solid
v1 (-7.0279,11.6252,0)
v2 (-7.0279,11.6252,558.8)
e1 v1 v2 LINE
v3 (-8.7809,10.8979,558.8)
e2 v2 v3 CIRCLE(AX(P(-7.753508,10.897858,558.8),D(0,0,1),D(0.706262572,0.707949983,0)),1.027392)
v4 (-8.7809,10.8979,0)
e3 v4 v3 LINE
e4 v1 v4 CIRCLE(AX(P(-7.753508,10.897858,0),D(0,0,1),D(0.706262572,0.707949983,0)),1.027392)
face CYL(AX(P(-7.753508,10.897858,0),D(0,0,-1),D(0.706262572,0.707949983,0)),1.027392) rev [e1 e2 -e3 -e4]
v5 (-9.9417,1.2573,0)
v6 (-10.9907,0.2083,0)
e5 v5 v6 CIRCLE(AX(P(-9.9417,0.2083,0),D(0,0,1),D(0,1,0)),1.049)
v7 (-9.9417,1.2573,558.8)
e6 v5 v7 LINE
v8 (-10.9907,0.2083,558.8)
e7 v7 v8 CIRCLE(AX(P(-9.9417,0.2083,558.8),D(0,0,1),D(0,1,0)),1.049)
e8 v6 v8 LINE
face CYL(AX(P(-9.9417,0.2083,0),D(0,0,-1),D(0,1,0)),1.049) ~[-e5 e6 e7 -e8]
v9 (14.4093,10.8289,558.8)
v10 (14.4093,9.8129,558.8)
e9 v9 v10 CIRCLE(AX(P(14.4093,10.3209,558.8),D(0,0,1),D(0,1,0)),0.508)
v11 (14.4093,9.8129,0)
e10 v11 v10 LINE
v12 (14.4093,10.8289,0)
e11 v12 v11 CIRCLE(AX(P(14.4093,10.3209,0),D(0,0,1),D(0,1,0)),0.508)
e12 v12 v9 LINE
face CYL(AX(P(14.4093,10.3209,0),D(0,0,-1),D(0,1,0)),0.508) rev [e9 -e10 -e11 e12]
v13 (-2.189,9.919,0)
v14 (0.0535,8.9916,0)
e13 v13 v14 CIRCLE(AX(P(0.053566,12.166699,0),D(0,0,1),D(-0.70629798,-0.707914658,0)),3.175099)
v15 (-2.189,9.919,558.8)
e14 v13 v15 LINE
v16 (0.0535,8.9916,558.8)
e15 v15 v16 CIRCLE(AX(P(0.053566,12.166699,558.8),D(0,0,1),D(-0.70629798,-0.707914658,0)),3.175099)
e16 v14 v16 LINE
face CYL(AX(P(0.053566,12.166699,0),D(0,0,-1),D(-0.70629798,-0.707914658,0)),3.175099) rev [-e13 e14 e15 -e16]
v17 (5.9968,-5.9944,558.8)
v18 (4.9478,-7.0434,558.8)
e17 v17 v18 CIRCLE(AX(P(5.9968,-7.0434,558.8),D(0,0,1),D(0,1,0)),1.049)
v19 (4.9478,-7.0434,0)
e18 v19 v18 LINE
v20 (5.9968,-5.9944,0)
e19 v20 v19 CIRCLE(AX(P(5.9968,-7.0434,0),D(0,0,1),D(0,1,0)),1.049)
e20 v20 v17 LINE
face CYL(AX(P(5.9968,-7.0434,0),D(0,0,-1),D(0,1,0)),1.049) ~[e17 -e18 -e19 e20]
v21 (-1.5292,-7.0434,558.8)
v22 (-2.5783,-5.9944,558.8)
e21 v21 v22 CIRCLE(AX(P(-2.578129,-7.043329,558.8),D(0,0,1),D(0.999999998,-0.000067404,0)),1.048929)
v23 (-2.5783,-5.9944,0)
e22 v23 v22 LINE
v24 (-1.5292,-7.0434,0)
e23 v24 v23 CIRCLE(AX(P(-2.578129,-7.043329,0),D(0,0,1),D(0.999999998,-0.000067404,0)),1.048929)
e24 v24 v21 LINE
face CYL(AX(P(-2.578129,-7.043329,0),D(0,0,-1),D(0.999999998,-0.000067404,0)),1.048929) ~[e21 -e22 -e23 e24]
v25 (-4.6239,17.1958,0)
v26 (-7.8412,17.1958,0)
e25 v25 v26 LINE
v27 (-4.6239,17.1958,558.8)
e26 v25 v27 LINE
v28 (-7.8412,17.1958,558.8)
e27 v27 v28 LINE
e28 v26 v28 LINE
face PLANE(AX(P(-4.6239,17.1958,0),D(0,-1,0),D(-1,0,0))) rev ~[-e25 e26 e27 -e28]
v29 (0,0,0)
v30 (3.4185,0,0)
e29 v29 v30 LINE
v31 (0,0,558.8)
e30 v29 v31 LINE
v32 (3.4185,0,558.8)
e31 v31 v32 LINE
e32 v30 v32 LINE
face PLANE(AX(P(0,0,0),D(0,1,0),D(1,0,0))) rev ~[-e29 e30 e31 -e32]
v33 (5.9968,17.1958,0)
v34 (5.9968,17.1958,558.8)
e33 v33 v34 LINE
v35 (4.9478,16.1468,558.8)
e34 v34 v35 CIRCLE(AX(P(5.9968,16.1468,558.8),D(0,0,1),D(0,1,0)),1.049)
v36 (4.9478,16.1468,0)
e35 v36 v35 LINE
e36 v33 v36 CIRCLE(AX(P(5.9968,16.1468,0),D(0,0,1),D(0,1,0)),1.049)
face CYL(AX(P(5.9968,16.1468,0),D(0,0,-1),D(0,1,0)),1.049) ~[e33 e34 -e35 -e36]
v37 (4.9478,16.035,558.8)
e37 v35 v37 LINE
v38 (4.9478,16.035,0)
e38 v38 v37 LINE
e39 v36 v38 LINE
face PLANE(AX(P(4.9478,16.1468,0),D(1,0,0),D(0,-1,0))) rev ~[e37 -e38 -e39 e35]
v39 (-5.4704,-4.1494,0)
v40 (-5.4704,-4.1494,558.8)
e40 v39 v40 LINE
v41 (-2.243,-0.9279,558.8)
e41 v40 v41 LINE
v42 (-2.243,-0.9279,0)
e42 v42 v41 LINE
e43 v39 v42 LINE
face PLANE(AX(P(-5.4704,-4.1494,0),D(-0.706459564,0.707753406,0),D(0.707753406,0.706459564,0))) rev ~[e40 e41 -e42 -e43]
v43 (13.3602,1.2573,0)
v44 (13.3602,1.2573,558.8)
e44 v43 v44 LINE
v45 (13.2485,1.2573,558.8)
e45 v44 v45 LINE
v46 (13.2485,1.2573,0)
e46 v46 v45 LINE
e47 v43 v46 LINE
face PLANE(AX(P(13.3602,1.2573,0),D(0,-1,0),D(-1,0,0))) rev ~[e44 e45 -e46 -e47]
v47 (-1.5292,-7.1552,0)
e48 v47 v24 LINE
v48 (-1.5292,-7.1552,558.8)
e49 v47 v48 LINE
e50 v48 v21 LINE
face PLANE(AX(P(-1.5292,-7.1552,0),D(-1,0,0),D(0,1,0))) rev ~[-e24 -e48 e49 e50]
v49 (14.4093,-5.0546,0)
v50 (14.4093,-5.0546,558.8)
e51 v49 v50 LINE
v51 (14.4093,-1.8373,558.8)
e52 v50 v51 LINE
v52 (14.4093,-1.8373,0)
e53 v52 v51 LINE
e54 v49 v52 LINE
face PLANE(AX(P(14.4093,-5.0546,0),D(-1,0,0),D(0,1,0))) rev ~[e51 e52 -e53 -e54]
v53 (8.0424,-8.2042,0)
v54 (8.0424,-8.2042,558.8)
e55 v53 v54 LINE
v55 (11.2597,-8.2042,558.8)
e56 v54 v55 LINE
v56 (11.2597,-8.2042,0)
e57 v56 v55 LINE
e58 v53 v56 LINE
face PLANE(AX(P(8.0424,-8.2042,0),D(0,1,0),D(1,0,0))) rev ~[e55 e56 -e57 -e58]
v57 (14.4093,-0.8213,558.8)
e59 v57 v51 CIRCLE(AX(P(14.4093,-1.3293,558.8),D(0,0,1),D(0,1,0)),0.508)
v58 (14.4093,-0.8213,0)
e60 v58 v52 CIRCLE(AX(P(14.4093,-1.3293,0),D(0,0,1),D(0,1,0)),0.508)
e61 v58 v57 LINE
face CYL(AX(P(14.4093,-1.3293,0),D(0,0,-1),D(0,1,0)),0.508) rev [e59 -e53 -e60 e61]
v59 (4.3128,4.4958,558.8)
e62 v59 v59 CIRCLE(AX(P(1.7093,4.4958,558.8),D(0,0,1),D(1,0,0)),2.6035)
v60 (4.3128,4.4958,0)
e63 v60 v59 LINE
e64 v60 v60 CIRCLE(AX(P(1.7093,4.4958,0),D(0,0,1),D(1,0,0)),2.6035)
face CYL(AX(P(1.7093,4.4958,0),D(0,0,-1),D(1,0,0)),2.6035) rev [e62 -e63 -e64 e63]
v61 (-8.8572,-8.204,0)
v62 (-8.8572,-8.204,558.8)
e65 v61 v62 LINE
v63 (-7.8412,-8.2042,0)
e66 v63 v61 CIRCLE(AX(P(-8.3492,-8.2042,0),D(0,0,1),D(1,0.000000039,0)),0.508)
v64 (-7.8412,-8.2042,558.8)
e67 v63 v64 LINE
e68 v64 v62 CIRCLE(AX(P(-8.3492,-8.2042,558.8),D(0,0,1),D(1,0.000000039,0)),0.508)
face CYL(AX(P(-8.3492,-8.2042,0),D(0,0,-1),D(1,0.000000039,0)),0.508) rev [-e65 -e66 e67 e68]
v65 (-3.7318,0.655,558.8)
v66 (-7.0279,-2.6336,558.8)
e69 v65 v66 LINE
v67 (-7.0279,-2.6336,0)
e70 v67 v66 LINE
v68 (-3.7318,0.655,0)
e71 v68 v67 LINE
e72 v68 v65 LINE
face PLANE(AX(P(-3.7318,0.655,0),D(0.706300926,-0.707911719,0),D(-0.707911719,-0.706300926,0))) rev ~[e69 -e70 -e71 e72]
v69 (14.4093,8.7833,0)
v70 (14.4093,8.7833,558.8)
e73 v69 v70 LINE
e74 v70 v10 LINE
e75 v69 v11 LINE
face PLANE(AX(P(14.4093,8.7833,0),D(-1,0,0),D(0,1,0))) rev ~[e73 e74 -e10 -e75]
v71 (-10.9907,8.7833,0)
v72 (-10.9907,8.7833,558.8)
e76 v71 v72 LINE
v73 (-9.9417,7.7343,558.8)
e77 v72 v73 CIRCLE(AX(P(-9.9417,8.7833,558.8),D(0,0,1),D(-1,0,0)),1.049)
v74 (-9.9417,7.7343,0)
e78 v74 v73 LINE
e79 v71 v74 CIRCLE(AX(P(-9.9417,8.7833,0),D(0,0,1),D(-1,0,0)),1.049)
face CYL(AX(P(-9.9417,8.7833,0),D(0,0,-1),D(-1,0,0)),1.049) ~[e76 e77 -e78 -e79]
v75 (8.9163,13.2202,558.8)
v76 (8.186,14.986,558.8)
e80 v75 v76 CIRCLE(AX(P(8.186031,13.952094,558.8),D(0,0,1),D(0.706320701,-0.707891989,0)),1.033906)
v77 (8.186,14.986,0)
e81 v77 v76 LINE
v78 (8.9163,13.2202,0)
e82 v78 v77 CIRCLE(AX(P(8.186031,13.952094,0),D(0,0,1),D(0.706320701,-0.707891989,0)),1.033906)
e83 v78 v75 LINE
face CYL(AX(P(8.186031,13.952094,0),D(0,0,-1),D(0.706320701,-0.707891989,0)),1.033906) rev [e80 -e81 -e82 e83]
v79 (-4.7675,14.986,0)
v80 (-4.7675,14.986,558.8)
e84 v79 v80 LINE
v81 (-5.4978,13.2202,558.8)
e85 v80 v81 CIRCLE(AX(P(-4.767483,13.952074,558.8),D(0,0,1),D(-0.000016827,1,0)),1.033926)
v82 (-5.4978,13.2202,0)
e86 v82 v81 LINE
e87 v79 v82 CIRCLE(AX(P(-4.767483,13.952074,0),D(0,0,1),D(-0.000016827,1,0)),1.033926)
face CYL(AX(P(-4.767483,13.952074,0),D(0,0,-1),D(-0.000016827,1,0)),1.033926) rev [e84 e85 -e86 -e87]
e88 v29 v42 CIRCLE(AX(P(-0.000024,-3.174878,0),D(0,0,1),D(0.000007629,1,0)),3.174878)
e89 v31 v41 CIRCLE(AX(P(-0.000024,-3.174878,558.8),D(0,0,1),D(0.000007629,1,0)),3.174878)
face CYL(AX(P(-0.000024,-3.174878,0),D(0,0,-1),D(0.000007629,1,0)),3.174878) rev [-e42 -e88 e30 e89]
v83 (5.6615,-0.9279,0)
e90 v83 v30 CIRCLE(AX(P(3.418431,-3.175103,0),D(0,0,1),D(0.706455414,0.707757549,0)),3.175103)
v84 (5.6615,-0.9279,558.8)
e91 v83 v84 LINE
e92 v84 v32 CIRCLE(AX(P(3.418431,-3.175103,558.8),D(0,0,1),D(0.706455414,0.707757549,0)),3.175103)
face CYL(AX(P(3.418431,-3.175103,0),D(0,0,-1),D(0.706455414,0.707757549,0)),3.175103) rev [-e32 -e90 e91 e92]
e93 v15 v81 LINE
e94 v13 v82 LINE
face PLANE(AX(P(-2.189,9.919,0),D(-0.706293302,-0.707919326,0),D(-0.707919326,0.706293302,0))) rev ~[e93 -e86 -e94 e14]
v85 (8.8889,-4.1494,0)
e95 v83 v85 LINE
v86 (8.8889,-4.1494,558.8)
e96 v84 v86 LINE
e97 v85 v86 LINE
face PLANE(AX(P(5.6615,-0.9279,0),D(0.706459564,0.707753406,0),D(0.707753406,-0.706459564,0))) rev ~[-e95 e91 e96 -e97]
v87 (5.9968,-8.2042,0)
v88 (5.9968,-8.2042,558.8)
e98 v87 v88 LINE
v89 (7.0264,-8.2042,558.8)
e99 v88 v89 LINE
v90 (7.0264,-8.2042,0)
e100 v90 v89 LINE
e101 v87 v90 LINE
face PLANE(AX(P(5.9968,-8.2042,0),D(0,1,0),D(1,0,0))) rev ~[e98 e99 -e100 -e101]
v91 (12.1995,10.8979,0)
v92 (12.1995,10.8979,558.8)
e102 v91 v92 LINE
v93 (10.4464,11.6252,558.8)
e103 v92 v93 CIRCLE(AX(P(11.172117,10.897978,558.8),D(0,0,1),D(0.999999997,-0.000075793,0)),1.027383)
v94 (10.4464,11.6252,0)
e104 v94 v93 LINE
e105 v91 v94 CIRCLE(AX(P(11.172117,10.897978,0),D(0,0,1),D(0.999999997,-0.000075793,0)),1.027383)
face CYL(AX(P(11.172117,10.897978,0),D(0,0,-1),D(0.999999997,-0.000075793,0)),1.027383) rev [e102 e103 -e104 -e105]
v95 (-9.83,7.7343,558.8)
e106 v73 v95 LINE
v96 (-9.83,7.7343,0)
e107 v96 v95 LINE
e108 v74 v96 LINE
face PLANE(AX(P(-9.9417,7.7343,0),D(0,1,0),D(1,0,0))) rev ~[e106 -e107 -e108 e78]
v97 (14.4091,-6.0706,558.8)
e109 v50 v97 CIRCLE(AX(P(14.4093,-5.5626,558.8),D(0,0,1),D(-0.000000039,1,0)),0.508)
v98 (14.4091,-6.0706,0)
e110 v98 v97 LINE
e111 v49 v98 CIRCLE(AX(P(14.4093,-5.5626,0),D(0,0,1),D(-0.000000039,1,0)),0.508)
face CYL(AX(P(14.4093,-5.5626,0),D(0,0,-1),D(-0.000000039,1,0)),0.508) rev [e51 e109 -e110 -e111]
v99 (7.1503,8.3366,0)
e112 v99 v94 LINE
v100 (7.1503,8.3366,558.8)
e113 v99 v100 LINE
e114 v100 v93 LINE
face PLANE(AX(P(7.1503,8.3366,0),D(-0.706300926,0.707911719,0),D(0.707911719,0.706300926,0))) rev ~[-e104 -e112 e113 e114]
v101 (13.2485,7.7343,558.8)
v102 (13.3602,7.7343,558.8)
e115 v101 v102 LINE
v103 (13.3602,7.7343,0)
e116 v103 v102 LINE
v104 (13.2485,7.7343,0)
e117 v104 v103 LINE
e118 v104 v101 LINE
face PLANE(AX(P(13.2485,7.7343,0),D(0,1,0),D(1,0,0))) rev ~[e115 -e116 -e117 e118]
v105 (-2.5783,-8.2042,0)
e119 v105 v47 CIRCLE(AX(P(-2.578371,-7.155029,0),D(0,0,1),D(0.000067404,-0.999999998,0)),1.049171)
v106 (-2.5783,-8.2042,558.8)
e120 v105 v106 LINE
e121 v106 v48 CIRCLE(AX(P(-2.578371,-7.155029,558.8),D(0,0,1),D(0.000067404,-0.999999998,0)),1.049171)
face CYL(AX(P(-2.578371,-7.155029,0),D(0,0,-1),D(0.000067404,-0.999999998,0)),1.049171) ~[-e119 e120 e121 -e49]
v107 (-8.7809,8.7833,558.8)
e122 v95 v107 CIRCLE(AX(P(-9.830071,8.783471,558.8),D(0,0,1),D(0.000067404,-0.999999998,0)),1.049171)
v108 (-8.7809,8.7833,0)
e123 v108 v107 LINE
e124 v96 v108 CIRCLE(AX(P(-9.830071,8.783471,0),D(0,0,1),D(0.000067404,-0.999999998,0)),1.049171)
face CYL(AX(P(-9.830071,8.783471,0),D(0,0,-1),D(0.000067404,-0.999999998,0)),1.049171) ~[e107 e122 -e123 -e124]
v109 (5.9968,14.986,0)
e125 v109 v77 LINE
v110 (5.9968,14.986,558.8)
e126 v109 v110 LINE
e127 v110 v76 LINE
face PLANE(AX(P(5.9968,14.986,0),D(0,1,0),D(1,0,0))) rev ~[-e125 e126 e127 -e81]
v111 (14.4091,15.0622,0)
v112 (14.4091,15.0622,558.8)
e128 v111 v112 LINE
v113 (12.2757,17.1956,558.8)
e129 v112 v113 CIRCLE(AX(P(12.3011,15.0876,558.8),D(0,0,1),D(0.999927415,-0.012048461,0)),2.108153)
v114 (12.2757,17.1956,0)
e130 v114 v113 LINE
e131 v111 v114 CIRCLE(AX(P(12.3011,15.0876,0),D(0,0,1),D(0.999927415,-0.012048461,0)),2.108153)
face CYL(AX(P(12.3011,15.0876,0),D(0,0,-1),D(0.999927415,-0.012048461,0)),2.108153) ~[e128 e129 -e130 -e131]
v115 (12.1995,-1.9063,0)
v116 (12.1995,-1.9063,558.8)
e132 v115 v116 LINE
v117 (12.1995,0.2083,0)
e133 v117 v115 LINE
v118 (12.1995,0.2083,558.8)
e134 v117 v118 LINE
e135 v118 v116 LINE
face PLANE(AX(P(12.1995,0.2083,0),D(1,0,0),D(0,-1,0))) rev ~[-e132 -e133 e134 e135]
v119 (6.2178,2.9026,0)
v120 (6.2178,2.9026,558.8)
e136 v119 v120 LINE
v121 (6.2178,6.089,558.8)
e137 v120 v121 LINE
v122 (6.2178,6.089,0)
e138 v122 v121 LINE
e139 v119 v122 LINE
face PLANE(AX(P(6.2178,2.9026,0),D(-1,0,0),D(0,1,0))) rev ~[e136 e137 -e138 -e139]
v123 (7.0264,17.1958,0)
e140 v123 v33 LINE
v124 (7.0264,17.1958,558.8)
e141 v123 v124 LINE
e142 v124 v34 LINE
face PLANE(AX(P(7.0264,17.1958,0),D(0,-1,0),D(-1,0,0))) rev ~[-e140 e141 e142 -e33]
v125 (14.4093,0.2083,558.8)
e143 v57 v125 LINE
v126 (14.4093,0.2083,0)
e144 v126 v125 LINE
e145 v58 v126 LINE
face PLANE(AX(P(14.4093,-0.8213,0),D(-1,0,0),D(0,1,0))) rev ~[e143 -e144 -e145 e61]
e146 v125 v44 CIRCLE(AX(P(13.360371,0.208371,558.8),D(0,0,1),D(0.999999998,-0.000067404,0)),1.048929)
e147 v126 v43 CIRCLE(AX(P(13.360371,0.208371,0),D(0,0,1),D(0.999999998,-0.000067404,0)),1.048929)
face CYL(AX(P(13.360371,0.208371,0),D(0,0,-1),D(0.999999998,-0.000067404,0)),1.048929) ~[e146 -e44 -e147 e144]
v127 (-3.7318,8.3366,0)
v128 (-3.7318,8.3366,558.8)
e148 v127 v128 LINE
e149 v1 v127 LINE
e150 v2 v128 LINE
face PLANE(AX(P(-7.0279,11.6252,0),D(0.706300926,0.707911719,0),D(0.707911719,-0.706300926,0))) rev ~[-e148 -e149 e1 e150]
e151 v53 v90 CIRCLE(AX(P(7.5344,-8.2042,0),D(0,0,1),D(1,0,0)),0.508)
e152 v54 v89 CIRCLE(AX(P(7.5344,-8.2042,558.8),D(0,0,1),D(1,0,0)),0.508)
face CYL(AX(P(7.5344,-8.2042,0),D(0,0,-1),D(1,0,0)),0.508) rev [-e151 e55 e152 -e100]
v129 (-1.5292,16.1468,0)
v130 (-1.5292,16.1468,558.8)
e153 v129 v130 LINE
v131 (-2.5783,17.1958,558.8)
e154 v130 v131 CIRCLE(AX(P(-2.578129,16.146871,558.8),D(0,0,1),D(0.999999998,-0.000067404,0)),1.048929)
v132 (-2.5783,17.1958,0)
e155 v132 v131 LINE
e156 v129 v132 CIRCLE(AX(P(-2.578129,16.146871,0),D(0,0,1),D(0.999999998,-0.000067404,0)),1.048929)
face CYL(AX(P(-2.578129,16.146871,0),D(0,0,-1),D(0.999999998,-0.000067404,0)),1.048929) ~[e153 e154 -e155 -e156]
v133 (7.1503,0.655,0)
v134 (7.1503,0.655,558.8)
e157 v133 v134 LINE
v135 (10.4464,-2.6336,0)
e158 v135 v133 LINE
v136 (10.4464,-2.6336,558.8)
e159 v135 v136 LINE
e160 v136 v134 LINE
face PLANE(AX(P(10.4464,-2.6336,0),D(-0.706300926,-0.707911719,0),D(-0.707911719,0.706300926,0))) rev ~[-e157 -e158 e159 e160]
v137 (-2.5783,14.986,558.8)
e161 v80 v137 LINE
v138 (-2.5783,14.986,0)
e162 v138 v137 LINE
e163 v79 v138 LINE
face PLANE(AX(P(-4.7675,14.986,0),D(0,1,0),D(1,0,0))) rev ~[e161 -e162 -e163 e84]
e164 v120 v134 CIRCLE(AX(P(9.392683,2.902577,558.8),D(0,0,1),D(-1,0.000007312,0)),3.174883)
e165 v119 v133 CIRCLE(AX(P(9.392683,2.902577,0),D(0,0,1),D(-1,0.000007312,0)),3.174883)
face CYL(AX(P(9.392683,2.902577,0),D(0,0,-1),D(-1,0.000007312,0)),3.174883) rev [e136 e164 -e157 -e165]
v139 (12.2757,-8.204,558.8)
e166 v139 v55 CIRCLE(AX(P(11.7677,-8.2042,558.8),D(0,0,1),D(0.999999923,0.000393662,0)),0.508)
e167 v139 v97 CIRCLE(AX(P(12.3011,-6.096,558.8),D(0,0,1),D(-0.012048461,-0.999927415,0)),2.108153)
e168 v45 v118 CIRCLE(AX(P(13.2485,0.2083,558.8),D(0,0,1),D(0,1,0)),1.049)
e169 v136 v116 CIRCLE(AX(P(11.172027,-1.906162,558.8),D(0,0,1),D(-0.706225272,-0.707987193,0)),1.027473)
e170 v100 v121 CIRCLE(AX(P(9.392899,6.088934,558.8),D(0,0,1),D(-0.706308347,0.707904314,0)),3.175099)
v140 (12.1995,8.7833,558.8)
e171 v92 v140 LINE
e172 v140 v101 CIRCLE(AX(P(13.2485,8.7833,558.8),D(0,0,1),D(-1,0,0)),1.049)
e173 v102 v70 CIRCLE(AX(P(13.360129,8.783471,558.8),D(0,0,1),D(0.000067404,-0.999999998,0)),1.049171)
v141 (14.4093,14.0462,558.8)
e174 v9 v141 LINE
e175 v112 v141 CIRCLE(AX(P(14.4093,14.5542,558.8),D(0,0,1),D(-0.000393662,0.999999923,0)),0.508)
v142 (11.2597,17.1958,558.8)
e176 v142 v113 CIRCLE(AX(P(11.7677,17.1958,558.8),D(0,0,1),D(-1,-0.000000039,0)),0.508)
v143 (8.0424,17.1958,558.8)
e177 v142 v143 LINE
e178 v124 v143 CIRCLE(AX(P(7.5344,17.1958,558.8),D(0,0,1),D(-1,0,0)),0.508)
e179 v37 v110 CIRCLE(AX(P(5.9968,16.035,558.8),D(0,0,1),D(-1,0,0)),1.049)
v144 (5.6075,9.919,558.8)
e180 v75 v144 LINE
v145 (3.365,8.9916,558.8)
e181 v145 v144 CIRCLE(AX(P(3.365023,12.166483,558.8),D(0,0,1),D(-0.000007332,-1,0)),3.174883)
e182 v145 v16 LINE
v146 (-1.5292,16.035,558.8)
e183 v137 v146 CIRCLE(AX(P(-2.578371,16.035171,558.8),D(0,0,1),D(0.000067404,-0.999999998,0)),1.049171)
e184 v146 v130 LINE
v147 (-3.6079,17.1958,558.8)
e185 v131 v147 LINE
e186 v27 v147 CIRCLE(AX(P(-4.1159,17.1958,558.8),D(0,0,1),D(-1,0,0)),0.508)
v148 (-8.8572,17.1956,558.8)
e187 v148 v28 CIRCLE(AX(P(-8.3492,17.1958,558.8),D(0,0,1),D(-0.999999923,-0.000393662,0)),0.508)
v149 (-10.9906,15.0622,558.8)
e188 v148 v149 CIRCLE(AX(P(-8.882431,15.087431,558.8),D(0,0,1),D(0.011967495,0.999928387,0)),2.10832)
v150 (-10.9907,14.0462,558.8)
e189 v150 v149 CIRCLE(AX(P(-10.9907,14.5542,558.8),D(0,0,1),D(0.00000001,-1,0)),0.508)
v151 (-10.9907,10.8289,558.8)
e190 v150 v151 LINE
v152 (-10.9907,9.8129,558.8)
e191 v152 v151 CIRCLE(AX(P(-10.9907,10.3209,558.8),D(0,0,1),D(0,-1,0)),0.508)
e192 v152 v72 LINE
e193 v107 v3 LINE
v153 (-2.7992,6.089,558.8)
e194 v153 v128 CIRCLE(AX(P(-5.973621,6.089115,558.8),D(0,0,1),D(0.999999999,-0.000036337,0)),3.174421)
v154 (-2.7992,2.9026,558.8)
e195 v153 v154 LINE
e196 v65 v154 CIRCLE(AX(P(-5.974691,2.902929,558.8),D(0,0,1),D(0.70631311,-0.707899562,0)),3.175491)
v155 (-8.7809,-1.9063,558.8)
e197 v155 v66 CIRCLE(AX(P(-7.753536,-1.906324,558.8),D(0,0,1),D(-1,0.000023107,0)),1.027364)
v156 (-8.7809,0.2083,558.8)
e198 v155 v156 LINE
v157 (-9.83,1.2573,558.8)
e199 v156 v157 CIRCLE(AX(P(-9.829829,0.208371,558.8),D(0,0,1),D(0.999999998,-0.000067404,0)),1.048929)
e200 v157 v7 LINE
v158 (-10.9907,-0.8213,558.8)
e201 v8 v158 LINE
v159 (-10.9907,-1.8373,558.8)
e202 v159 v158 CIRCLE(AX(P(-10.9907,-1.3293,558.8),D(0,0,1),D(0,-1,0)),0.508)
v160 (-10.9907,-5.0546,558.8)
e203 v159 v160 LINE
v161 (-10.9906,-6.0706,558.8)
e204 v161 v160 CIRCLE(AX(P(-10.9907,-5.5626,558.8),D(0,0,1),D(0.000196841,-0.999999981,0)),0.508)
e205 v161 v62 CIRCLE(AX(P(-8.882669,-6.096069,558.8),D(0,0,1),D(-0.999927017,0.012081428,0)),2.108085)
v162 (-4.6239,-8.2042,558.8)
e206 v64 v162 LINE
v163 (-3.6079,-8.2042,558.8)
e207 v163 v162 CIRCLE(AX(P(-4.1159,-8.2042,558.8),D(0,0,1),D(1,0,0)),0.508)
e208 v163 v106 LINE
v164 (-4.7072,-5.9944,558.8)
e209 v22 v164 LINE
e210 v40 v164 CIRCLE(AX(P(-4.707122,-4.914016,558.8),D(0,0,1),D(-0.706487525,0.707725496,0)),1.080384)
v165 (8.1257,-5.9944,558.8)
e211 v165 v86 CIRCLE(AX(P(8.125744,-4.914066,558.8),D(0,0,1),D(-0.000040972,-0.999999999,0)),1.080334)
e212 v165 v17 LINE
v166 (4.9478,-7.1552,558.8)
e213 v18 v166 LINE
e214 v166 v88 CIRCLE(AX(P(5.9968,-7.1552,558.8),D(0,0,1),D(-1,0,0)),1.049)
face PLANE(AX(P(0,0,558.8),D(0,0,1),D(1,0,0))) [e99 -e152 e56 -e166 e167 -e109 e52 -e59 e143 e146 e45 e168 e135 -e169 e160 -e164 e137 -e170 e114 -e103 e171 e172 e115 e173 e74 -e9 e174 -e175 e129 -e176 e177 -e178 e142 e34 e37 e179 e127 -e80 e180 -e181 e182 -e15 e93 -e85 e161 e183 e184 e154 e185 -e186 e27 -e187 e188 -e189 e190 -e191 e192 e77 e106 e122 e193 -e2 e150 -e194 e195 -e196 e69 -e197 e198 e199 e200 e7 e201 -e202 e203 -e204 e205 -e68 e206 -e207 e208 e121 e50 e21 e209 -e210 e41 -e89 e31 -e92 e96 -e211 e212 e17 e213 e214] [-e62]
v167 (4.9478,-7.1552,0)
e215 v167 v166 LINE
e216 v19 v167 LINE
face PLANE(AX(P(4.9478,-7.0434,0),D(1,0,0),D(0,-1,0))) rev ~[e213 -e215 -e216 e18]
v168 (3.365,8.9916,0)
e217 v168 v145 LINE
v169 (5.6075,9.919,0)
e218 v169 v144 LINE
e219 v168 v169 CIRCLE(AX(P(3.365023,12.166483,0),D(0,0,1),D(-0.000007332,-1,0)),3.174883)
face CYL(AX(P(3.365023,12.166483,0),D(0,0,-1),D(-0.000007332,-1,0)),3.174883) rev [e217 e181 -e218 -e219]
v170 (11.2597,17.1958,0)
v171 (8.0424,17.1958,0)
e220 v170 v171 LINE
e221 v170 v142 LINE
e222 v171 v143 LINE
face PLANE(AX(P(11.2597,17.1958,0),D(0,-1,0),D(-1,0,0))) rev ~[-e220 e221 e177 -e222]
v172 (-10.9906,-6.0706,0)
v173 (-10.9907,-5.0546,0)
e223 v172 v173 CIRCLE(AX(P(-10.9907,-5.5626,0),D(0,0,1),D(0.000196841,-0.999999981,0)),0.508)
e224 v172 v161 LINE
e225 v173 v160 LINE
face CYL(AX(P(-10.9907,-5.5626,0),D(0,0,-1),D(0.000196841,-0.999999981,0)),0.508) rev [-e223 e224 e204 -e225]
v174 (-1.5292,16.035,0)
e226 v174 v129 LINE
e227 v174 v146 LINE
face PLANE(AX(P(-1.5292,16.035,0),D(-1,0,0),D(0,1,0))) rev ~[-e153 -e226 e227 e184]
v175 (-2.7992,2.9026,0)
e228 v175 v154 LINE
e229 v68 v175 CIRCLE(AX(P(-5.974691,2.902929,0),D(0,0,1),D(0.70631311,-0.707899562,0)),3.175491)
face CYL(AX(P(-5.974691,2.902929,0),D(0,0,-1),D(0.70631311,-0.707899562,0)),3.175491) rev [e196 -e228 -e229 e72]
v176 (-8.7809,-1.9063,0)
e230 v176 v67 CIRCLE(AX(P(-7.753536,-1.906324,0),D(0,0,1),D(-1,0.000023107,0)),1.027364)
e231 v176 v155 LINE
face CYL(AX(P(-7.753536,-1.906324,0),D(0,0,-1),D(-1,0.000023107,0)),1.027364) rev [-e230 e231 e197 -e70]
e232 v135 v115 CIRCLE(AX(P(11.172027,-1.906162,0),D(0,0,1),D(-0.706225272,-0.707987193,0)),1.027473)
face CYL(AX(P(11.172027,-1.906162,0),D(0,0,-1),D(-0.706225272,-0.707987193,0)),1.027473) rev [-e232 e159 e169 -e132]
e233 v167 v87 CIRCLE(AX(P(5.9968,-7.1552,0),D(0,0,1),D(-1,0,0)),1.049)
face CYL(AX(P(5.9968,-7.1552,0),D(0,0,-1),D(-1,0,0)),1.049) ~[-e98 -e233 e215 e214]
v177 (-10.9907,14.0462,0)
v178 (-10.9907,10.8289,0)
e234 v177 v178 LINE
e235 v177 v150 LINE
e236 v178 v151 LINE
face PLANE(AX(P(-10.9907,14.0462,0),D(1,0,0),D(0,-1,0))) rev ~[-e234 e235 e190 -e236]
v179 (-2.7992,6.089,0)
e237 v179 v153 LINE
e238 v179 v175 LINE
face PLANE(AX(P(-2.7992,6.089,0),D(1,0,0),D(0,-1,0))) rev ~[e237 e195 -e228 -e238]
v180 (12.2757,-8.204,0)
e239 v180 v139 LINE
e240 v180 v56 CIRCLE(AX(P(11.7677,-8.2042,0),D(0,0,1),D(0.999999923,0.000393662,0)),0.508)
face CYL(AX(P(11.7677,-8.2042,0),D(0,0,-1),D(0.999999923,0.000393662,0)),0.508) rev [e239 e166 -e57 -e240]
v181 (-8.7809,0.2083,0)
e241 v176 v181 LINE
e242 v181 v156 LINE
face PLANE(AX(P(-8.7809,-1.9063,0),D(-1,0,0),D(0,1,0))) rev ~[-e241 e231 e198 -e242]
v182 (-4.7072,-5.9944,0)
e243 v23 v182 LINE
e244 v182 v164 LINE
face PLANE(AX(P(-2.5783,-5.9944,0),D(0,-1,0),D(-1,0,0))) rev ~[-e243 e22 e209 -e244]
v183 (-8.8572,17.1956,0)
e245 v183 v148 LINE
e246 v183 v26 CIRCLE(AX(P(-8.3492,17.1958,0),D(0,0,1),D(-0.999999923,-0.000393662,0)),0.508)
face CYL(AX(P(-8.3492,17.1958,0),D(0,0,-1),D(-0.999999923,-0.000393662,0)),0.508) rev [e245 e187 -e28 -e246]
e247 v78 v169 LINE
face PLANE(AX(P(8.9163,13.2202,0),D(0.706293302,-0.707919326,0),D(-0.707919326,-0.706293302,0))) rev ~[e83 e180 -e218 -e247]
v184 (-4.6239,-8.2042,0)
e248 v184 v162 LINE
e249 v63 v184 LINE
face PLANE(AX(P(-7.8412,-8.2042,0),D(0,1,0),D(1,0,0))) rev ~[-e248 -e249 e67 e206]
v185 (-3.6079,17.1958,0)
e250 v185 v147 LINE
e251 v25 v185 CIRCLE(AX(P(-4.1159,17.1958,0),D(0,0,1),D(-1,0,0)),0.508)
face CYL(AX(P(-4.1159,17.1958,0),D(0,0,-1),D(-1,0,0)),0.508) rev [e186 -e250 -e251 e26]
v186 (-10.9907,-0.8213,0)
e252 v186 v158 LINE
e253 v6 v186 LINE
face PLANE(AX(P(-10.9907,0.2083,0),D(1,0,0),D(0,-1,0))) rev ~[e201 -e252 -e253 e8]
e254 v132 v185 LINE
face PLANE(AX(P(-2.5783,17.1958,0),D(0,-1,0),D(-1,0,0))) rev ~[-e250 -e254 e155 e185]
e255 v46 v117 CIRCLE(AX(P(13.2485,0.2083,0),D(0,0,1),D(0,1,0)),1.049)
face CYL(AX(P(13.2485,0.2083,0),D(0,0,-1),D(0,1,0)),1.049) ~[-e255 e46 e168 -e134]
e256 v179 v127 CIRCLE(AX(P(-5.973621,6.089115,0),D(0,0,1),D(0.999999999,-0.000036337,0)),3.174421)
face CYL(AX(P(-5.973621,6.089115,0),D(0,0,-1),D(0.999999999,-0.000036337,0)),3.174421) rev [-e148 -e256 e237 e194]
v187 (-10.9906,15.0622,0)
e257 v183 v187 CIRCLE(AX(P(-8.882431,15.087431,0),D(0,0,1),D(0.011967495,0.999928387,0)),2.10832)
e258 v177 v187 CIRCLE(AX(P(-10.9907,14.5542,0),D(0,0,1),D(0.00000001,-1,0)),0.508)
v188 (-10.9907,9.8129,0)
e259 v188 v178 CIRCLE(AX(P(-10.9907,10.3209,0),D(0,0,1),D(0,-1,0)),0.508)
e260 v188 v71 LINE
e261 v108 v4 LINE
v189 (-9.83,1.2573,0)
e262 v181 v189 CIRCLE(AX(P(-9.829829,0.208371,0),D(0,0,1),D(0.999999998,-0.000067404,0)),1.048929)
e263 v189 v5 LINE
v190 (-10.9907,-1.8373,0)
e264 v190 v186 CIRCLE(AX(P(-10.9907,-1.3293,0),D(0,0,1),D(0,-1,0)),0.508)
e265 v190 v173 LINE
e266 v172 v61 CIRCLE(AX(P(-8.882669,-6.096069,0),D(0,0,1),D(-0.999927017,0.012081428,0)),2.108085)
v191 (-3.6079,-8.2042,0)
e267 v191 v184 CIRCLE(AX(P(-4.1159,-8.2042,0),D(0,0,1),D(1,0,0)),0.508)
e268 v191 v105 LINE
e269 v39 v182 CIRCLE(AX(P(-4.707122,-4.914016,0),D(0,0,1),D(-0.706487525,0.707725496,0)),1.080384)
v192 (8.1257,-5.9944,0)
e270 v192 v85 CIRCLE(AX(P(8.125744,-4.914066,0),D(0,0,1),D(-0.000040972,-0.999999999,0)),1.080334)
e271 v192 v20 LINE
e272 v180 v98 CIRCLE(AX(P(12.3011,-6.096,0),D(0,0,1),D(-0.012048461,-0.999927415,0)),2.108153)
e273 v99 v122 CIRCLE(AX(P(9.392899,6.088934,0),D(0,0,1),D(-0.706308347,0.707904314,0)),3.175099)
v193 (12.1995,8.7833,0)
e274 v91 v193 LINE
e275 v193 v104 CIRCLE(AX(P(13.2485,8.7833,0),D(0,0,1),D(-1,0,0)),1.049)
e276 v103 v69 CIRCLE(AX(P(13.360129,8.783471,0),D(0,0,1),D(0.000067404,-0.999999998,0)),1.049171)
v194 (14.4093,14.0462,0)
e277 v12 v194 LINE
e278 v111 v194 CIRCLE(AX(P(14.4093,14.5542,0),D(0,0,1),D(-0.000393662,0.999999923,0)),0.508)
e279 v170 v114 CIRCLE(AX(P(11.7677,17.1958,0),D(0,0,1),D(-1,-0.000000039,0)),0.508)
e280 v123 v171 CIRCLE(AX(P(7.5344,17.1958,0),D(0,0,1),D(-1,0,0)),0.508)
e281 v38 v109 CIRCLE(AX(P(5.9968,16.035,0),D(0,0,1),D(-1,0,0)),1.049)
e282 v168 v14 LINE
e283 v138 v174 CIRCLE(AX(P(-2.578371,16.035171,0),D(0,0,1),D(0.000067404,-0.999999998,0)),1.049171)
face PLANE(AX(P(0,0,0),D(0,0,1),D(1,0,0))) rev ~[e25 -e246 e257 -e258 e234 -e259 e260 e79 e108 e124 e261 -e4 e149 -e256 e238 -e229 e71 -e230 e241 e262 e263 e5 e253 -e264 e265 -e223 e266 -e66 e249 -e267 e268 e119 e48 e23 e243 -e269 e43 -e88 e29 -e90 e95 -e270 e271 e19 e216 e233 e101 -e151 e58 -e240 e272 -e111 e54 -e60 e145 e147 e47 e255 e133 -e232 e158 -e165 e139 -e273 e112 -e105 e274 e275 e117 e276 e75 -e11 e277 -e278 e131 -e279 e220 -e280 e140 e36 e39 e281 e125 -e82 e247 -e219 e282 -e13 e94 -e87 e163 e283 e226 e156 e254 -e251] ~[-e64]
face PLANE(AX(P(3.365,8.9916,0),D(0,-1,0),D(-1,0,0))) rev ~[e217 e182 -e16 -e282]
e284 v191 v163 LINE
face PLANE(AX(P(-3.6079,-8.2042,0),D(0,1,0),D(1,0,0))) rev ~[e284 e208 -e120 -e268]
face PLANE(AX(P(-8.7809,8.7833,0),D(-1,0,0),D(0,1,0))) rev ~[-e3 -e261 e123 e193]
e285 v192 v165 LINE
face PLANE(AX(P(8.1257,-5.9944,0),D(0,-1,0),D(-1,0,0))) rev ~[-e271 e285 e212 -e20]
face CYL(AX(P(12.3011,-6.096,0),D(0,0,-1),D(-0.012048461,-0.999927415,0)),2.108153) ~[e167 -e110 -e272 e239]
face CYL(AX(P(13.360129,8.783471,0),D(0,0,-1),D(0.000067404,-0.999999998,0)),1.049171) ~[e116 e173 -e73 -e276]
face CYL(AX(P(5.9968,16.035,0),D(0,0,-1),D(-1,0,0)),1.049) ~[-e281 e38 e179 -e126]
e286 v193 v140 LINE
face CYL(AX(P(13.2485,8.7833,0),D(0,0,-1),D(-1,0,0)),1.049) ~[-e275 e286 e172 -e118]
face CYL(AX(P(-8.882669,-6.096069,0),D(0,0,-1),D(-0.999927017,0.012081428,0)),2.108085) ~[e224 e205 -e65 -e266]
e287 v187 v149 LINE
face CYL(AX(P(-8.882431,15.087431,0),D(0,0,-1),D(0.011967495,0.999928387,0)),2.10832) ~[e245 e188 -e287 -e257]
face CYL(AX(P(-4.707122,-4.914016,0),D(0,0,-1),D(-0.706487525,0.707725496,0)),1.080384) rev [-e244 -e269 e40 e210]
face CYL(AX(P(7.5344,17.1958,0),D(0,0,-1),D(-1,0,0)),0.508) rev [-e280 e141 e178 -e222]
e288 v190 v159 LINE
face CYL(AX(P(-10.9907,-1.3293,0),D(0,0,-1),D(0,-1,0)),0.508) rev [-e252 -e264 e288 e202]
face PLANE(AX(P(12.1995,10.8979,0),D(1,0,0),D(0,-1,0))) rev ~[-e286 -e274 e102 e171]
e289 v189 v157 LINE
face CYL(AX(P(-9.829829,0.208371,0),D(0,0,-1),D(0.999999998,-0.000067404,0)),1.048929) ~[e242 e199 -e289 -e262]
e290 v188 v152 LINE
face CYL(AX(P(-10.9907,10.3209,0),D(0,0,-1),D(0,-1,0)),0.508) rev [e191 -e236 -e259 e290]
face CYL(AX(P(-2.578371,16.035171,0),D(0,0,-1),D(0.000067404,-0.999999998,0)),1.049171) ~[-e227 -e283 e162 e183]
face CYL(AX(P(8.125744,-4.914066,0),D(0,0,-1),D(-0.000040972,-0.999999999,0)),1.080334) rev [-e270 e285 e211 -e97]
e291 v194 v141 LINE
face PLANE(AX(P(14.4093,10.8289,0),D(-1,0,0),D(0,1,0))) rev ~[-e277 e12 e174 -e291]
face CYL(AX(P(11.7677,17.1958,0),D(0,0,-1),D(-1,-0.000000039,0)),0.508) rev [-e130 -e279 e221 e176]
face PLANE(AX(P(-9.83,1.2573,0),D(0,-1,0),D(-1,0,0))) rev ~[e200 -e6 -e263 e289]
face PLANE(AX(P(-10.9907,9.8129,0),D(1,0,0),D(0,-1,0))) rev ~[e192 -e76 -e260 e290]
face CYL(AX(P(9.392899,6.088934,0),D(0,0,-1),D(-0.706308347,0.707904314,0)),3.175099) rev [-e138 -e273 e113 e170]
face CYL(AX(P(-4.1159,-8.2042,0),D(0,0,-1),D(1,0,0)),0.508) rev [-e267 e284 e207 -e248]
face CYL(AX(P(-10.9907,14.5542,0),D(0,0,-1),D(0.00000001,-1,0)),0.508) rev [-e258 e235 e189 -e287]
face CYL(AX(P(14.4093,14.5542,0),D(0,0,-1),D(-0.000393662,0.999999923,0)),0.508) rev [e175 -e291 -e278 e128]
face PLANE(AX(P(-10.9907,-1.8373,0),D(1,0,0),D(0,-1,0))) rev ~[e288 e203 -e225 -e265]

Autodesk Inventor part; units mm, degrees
ref_plane "YZ Plane" through (0, 0, 0) normal (1, 0, 0) x (0, 1, 0)
ref_plane "XZ Plane" through (0, 0, 0) normal (0, 1, 0) x (-1, 0, 0)
ref_plane "XY Plane" through (0, 0, 0) normal (0, 0, 1) x (1, 0, 0)
sketch "Sketch1" plane through (0, 0, 0) normal (0, 0, 1) x (1, 0, 0)
  arc A0 (-5.4704, -4.1494) -> (-4.7072, -5.9944) centre (-4.7072, -4.914) ccw
  line L0 (-5.4704, -4.1494) -> (-2.243, -0.9279)
  arc A1 (0, 0) -> (-2.243, -0.9279) centre (0, -3.175) ccw
  line L1 (0, 0) -> (3.4185, 0)
  arc A2 (5.6615, -0.9279) -> (3.4185, 0) centre (3.4185, -3.175) ccw
  line L2 (5.6615, -0.9279) -> (8.8889, -4.1494)
  arc A3 (8.1257, -5.9944) -> (8.8889, -4.1494) centre (8.1257, -4.914) ccw
  line L3 (8.1257, -5.9944) -> (5.9968, -5.9944)
  arc A4 (5.9968, -5.9944) -> (4.9478, -7.0434) centre (5.9968, -7.0434) ccw
  line L4 (4.9478, -7.0434) -> (4.9478, -7.1552)
  arc A5 (4.9478, -7.1552) -> (5.9968, -8.2042) centre (5.9968, -7.1552) ccw
  line L5 (5.9968, -8.2042) -> (7.0264, -8.2042)
  arc A6 (8.0424, -8.2042) -> (7.0264, -8.2042) centre (7.5344, -8.2042) ccw
  line L6 (8.0424, -8.2042) -> (11.2597, -8.2042)
  arc A7 (12.2757, -8.204) -> (11.2597, -8.2042) centre (11.7677, -8.2042) ccw
  arc A8 (12.2757, -8.204) -> (14.4091, -6.0706) centre (12.3011, -6.096) ccw
  arc A9 (14.4093, -5.0546) -> (14.4091, -6.0706) centre (14.4093, -5.5626) ccw
  line L7 (14.4093, -5.0546) -> (14.4093, -1.8373)
  arc A10 (14.4093, -0.8213) -> (14.4093, -1.8373) centre (14.4093, -1.3293) ccw
  line L8 (14.4093, -0.8213) -> (14.4093, 0.2083)
  arc A11 (14.4093, 0.2083) -> (13.3602, 1.2573) centre (13.3602, 0.2083) ccw
  line L9 (13.3602, 1.2573) -> (13.2485, 1.2573)
  arc A12 (13.2485, 1.2573) -> (12.1995, 0.2083) centre (13.2485, 0.2083) ccw
  line L10 (12.1995, 0.2083) -> (12.1995, -1.9063)
  arc A13 (10.4464, -2.6336) -> (12.1995, -1.9063) centre (11.172, -1.9063) ccw
  line L11 (10.4464, -2.6336) -> (7.1503, 0.655)
  arc A14 (6.2178, 2.9026) -> (7.1503, 0.655) centre (9.3928, 2.9026) ccw
  line L12 (6.2178, 2.9026) -> (6.2178, 6.089)
  arc A15 (7.1503, 8.3366) -> (6.2178, 6.089) centre (9.3928, 6.089) ccw
  line L13 (7.1503, 8.3366) -> (10.4464, 11.6252)
  arc A16 (12.1995, 10.8979) -> (10.4464, 11.6252) centre (11.172, 10.8979) ccw
  line L14 (12.1995, 10.8979) -> (12.1995, 8.7833)
  arc A17 (12.1995, 8.7833) -> (13.2485, 7.7343) centre (13.2485, 8.7833) ccw
  line L15 (13.2485, 7.7343) -> (13.3602, 7.7343)
  arc A18 (13.3602, 7.7343) -> (14.4093, 8.7833) centre (13.3602, 8.7833) ccw
  line L16 (14.4093, 8.7833) -> (14.4093, 9.8129)
  arc A19 (14.4093, 10.8289) -> (14.4093, 9.8129) centre (14.4093, 10.3209) ccw
  line L17 (14.4093, 10.8289) -> (14.4093, 14.0462)
  arc A20 (14.4091, 15.0622) -> (14.4093, 14.0462) centre (14.4093, 14.5542) ccw
  arc A21 (14.4091, 15.0622) -> (12.2757, 17.1956) centre (12.3011, 15.0876) ccw
  arc A22 (11.2597, 17.1958) -> (12.2757, 17.1956) centre (11.7677, 17.1958) ccw
  line L18 (11.2597, 17.1958) -> (8.0424, 17.1958)
  arc A23 (7.0264, 17.1958) -> (8.0424, 17.1958) centre (7.5344, 17.1958) ccw
  line L19 (7.0264, 17.1958) -> (5.9968, 17.1958)
  arc A24 (5.9968, 17.1958) -> (4.9478, 16.1468) centre (5.9968, 16.1468) ccw
  line L20 (4.9478, 16.1468) -> (4.9478, 16.035)
  arc A25 (4.9478, 16.035) -> (5.9968, 14.986) centre (5.9968, 16.035) ccw
  line L21 (5.9968, 14.986) -> (8.186, 14.986)
  arc A26 (8.9163, 13.2202) -> (8.186, 14.986) centre (8.186, 13.9521) ccw
  line L22 (8.9163, 13.2202) -> (5.6075, 9.919)
  arc A27 (3.365, 8.9916) -> (5.6075, 9.919) centre (3.365, 12.1666) ccw
  line L23 (3.365, 8.9916) -> (0.0535, 8.9916)
  arc A28 (-2.189, 9.919) -> (0.0535, 8.9916) centre (0.0535, 12.1666) ccw
  line L24 (-2.189, 9.919) -> (-5.4978, 13.2202)
  arc A29 (-4.7675, 14.986) -> (-5.4978, 13.2202) centre (-4.7675, 13.9521) ccw
  line L25 (-4.7675, 14.986) -> (-2.5783, 14.986)
  arc A30 (-2.5783, 14.986) -> (-1.5292, 16.035) centre (-2.5783, 16.035) ccw
  line L26 (-1.5292, 16.035) -> (-1.5292, 16.1468)
  arc A31 (-1.5292, 16.1468) -> (-2.5783, 17.1958) centre (-2.5783, 16.1468) ccw
  line L27 (-2.5783, 17.1958) -> (-3.6079, 17.1958)
  arc A32 (-4.6239, 17.1958) -> (-3.6079, 17.1958) centre (-4.1159, 17.1958) ccw
  line L28 (-4.6239, 17.1958) -> (-7.8412, 17.1958)
  arc A33 (-8.8572, 17.1956) -> (-7.8412, 17.1958) centre (-8.3492, 17.1958) ccw
  arc A34 (-8.8572, 17.1956) -> (-10.9906, 15.0622) centre (-8.8825, 15.0876) ccw
  arc A35 (-10.9907, 14.0462) -> (-10.9906, 15.0622) centre (-10.9907, 14.5542) ccw
  line L29 (-10.9907, 14.0462) -> (-10.9907, 10.8289)
  arc A36 (-10.9907, 9.8129) -> (-10.9907, 10.8289) centre (-10.9907, 10.3209) ccw
  line L30 (-10.9907, 9.8129) -> (-10.9907, 8.7833)
  arc A37 (-10.9907, 8.7833) -> (-9.9417, 7.7343) centre (-9.9417, 8.7833) ccw
  line L31 (-9.9417, 7.7343) -> (-9.83, 7.7343)
  arc A38 (-9.83, 7.7343) -> (-8.7809, 8.7833) centre (-9.83, 8.7833) ccw
  line L32 (-8.7809, 8.7833) -> (-8.7809, 10.8979)
  arc A39 (-7.0279, 11.6252) -> (-8.7809, 10.8979) centre (-7.7535, 10.8979) ccw
  line L33 (-7.0279, 11.6252) -> (-3.7318, 8.3366)
  arc A40 (-2.7992, 6.089) -> (-3.7318, 8.3366) centre (-5.9742, 6.089) ccw
  line L34 (-2.7992, 6.089) -> (-2.7992, 2.9026)
  arc A41 (-3.7318, 0.655) -> (-2.7992, 2.9026) centre (-5.9742, 2.9026) ccw
  line L35 (-3.7318, 0.655) -> (-7.0279, -2.6336)
  arc A42 (-8.7809, -1.9063) -> (-7.0279, -2.6336) centre (-7.7535, -1.9063) ccw
  line L36 (-8.7809, -1.9063) -> (-8.7809, 0.2083)
  arc A43 (-8.7809, 0.2083) -> (-9.83, 1.2573) centre (-9.83, 0.2083) ccw
  line L37 (-9.83, 1.2573) -> (-9.9417, 1.2573)
  arc A44 (-9.9417, 1.2573) -> (-10.9907, 0.2083) centre (-9.9417, 0.2083) ccw
  line L38 (-10.9907, 0.2083) -> (-10.9907, -0.8213)
  arc A45 (-10.9907, -1.8373) -> (-10.9907, -0.8213) centre (-10.9907, -1.3293) ccw
  line L39 (-10.9907, -1.8373) -> (-10.9907, -5.0546)
  arc A46 (-10.9906, -6.0706) -> (-10.9907, -5.0546) centre (-10.9907, -5.5626) ccw
  arc A47 (-10.9906, -6.0706) -> (-8.8572, -8.204) centre (-8.8825, -6.096) ccw
  arc A48 (-7.8412, -8.2042) -> (-8.8572, -8.204) centre (-8.3492, -8.2042) ccw
  line L40 (-7.8412, -8.2042) -> (-4.6239, -8.2042)
  arc A49 (-3.6079, -8.2042) -> (-4.6239, -8.2042) centre (-4.1159, -8.2042) ccw
  line L41 (-3.6079, -8.2042) -> (-2.5783, -8.2042)
  arc A50 (-2.5783, -8.2042) -> (-1.5292, -7.1552) centre (-2.5783, -7.1552) ccw
  line L42 (-1.5292, -7.1552) -> (-1.5292, -7.0434)
  arc A51 (-1.5292, -7.0434) -> (-2.5783, -5.9944) centre (-2.5783, -7.0434) ccw
  line L43 (-2.5783, -5.9944) -> (-4.7072, -5.9944)
  circle A52 centre (1.7093, 4.4958) radius 2.6035
extrude "Extrusion1" add sketch "Sketch1" along normal blind 558.8
properties part number "22in 1x1 T slot"
